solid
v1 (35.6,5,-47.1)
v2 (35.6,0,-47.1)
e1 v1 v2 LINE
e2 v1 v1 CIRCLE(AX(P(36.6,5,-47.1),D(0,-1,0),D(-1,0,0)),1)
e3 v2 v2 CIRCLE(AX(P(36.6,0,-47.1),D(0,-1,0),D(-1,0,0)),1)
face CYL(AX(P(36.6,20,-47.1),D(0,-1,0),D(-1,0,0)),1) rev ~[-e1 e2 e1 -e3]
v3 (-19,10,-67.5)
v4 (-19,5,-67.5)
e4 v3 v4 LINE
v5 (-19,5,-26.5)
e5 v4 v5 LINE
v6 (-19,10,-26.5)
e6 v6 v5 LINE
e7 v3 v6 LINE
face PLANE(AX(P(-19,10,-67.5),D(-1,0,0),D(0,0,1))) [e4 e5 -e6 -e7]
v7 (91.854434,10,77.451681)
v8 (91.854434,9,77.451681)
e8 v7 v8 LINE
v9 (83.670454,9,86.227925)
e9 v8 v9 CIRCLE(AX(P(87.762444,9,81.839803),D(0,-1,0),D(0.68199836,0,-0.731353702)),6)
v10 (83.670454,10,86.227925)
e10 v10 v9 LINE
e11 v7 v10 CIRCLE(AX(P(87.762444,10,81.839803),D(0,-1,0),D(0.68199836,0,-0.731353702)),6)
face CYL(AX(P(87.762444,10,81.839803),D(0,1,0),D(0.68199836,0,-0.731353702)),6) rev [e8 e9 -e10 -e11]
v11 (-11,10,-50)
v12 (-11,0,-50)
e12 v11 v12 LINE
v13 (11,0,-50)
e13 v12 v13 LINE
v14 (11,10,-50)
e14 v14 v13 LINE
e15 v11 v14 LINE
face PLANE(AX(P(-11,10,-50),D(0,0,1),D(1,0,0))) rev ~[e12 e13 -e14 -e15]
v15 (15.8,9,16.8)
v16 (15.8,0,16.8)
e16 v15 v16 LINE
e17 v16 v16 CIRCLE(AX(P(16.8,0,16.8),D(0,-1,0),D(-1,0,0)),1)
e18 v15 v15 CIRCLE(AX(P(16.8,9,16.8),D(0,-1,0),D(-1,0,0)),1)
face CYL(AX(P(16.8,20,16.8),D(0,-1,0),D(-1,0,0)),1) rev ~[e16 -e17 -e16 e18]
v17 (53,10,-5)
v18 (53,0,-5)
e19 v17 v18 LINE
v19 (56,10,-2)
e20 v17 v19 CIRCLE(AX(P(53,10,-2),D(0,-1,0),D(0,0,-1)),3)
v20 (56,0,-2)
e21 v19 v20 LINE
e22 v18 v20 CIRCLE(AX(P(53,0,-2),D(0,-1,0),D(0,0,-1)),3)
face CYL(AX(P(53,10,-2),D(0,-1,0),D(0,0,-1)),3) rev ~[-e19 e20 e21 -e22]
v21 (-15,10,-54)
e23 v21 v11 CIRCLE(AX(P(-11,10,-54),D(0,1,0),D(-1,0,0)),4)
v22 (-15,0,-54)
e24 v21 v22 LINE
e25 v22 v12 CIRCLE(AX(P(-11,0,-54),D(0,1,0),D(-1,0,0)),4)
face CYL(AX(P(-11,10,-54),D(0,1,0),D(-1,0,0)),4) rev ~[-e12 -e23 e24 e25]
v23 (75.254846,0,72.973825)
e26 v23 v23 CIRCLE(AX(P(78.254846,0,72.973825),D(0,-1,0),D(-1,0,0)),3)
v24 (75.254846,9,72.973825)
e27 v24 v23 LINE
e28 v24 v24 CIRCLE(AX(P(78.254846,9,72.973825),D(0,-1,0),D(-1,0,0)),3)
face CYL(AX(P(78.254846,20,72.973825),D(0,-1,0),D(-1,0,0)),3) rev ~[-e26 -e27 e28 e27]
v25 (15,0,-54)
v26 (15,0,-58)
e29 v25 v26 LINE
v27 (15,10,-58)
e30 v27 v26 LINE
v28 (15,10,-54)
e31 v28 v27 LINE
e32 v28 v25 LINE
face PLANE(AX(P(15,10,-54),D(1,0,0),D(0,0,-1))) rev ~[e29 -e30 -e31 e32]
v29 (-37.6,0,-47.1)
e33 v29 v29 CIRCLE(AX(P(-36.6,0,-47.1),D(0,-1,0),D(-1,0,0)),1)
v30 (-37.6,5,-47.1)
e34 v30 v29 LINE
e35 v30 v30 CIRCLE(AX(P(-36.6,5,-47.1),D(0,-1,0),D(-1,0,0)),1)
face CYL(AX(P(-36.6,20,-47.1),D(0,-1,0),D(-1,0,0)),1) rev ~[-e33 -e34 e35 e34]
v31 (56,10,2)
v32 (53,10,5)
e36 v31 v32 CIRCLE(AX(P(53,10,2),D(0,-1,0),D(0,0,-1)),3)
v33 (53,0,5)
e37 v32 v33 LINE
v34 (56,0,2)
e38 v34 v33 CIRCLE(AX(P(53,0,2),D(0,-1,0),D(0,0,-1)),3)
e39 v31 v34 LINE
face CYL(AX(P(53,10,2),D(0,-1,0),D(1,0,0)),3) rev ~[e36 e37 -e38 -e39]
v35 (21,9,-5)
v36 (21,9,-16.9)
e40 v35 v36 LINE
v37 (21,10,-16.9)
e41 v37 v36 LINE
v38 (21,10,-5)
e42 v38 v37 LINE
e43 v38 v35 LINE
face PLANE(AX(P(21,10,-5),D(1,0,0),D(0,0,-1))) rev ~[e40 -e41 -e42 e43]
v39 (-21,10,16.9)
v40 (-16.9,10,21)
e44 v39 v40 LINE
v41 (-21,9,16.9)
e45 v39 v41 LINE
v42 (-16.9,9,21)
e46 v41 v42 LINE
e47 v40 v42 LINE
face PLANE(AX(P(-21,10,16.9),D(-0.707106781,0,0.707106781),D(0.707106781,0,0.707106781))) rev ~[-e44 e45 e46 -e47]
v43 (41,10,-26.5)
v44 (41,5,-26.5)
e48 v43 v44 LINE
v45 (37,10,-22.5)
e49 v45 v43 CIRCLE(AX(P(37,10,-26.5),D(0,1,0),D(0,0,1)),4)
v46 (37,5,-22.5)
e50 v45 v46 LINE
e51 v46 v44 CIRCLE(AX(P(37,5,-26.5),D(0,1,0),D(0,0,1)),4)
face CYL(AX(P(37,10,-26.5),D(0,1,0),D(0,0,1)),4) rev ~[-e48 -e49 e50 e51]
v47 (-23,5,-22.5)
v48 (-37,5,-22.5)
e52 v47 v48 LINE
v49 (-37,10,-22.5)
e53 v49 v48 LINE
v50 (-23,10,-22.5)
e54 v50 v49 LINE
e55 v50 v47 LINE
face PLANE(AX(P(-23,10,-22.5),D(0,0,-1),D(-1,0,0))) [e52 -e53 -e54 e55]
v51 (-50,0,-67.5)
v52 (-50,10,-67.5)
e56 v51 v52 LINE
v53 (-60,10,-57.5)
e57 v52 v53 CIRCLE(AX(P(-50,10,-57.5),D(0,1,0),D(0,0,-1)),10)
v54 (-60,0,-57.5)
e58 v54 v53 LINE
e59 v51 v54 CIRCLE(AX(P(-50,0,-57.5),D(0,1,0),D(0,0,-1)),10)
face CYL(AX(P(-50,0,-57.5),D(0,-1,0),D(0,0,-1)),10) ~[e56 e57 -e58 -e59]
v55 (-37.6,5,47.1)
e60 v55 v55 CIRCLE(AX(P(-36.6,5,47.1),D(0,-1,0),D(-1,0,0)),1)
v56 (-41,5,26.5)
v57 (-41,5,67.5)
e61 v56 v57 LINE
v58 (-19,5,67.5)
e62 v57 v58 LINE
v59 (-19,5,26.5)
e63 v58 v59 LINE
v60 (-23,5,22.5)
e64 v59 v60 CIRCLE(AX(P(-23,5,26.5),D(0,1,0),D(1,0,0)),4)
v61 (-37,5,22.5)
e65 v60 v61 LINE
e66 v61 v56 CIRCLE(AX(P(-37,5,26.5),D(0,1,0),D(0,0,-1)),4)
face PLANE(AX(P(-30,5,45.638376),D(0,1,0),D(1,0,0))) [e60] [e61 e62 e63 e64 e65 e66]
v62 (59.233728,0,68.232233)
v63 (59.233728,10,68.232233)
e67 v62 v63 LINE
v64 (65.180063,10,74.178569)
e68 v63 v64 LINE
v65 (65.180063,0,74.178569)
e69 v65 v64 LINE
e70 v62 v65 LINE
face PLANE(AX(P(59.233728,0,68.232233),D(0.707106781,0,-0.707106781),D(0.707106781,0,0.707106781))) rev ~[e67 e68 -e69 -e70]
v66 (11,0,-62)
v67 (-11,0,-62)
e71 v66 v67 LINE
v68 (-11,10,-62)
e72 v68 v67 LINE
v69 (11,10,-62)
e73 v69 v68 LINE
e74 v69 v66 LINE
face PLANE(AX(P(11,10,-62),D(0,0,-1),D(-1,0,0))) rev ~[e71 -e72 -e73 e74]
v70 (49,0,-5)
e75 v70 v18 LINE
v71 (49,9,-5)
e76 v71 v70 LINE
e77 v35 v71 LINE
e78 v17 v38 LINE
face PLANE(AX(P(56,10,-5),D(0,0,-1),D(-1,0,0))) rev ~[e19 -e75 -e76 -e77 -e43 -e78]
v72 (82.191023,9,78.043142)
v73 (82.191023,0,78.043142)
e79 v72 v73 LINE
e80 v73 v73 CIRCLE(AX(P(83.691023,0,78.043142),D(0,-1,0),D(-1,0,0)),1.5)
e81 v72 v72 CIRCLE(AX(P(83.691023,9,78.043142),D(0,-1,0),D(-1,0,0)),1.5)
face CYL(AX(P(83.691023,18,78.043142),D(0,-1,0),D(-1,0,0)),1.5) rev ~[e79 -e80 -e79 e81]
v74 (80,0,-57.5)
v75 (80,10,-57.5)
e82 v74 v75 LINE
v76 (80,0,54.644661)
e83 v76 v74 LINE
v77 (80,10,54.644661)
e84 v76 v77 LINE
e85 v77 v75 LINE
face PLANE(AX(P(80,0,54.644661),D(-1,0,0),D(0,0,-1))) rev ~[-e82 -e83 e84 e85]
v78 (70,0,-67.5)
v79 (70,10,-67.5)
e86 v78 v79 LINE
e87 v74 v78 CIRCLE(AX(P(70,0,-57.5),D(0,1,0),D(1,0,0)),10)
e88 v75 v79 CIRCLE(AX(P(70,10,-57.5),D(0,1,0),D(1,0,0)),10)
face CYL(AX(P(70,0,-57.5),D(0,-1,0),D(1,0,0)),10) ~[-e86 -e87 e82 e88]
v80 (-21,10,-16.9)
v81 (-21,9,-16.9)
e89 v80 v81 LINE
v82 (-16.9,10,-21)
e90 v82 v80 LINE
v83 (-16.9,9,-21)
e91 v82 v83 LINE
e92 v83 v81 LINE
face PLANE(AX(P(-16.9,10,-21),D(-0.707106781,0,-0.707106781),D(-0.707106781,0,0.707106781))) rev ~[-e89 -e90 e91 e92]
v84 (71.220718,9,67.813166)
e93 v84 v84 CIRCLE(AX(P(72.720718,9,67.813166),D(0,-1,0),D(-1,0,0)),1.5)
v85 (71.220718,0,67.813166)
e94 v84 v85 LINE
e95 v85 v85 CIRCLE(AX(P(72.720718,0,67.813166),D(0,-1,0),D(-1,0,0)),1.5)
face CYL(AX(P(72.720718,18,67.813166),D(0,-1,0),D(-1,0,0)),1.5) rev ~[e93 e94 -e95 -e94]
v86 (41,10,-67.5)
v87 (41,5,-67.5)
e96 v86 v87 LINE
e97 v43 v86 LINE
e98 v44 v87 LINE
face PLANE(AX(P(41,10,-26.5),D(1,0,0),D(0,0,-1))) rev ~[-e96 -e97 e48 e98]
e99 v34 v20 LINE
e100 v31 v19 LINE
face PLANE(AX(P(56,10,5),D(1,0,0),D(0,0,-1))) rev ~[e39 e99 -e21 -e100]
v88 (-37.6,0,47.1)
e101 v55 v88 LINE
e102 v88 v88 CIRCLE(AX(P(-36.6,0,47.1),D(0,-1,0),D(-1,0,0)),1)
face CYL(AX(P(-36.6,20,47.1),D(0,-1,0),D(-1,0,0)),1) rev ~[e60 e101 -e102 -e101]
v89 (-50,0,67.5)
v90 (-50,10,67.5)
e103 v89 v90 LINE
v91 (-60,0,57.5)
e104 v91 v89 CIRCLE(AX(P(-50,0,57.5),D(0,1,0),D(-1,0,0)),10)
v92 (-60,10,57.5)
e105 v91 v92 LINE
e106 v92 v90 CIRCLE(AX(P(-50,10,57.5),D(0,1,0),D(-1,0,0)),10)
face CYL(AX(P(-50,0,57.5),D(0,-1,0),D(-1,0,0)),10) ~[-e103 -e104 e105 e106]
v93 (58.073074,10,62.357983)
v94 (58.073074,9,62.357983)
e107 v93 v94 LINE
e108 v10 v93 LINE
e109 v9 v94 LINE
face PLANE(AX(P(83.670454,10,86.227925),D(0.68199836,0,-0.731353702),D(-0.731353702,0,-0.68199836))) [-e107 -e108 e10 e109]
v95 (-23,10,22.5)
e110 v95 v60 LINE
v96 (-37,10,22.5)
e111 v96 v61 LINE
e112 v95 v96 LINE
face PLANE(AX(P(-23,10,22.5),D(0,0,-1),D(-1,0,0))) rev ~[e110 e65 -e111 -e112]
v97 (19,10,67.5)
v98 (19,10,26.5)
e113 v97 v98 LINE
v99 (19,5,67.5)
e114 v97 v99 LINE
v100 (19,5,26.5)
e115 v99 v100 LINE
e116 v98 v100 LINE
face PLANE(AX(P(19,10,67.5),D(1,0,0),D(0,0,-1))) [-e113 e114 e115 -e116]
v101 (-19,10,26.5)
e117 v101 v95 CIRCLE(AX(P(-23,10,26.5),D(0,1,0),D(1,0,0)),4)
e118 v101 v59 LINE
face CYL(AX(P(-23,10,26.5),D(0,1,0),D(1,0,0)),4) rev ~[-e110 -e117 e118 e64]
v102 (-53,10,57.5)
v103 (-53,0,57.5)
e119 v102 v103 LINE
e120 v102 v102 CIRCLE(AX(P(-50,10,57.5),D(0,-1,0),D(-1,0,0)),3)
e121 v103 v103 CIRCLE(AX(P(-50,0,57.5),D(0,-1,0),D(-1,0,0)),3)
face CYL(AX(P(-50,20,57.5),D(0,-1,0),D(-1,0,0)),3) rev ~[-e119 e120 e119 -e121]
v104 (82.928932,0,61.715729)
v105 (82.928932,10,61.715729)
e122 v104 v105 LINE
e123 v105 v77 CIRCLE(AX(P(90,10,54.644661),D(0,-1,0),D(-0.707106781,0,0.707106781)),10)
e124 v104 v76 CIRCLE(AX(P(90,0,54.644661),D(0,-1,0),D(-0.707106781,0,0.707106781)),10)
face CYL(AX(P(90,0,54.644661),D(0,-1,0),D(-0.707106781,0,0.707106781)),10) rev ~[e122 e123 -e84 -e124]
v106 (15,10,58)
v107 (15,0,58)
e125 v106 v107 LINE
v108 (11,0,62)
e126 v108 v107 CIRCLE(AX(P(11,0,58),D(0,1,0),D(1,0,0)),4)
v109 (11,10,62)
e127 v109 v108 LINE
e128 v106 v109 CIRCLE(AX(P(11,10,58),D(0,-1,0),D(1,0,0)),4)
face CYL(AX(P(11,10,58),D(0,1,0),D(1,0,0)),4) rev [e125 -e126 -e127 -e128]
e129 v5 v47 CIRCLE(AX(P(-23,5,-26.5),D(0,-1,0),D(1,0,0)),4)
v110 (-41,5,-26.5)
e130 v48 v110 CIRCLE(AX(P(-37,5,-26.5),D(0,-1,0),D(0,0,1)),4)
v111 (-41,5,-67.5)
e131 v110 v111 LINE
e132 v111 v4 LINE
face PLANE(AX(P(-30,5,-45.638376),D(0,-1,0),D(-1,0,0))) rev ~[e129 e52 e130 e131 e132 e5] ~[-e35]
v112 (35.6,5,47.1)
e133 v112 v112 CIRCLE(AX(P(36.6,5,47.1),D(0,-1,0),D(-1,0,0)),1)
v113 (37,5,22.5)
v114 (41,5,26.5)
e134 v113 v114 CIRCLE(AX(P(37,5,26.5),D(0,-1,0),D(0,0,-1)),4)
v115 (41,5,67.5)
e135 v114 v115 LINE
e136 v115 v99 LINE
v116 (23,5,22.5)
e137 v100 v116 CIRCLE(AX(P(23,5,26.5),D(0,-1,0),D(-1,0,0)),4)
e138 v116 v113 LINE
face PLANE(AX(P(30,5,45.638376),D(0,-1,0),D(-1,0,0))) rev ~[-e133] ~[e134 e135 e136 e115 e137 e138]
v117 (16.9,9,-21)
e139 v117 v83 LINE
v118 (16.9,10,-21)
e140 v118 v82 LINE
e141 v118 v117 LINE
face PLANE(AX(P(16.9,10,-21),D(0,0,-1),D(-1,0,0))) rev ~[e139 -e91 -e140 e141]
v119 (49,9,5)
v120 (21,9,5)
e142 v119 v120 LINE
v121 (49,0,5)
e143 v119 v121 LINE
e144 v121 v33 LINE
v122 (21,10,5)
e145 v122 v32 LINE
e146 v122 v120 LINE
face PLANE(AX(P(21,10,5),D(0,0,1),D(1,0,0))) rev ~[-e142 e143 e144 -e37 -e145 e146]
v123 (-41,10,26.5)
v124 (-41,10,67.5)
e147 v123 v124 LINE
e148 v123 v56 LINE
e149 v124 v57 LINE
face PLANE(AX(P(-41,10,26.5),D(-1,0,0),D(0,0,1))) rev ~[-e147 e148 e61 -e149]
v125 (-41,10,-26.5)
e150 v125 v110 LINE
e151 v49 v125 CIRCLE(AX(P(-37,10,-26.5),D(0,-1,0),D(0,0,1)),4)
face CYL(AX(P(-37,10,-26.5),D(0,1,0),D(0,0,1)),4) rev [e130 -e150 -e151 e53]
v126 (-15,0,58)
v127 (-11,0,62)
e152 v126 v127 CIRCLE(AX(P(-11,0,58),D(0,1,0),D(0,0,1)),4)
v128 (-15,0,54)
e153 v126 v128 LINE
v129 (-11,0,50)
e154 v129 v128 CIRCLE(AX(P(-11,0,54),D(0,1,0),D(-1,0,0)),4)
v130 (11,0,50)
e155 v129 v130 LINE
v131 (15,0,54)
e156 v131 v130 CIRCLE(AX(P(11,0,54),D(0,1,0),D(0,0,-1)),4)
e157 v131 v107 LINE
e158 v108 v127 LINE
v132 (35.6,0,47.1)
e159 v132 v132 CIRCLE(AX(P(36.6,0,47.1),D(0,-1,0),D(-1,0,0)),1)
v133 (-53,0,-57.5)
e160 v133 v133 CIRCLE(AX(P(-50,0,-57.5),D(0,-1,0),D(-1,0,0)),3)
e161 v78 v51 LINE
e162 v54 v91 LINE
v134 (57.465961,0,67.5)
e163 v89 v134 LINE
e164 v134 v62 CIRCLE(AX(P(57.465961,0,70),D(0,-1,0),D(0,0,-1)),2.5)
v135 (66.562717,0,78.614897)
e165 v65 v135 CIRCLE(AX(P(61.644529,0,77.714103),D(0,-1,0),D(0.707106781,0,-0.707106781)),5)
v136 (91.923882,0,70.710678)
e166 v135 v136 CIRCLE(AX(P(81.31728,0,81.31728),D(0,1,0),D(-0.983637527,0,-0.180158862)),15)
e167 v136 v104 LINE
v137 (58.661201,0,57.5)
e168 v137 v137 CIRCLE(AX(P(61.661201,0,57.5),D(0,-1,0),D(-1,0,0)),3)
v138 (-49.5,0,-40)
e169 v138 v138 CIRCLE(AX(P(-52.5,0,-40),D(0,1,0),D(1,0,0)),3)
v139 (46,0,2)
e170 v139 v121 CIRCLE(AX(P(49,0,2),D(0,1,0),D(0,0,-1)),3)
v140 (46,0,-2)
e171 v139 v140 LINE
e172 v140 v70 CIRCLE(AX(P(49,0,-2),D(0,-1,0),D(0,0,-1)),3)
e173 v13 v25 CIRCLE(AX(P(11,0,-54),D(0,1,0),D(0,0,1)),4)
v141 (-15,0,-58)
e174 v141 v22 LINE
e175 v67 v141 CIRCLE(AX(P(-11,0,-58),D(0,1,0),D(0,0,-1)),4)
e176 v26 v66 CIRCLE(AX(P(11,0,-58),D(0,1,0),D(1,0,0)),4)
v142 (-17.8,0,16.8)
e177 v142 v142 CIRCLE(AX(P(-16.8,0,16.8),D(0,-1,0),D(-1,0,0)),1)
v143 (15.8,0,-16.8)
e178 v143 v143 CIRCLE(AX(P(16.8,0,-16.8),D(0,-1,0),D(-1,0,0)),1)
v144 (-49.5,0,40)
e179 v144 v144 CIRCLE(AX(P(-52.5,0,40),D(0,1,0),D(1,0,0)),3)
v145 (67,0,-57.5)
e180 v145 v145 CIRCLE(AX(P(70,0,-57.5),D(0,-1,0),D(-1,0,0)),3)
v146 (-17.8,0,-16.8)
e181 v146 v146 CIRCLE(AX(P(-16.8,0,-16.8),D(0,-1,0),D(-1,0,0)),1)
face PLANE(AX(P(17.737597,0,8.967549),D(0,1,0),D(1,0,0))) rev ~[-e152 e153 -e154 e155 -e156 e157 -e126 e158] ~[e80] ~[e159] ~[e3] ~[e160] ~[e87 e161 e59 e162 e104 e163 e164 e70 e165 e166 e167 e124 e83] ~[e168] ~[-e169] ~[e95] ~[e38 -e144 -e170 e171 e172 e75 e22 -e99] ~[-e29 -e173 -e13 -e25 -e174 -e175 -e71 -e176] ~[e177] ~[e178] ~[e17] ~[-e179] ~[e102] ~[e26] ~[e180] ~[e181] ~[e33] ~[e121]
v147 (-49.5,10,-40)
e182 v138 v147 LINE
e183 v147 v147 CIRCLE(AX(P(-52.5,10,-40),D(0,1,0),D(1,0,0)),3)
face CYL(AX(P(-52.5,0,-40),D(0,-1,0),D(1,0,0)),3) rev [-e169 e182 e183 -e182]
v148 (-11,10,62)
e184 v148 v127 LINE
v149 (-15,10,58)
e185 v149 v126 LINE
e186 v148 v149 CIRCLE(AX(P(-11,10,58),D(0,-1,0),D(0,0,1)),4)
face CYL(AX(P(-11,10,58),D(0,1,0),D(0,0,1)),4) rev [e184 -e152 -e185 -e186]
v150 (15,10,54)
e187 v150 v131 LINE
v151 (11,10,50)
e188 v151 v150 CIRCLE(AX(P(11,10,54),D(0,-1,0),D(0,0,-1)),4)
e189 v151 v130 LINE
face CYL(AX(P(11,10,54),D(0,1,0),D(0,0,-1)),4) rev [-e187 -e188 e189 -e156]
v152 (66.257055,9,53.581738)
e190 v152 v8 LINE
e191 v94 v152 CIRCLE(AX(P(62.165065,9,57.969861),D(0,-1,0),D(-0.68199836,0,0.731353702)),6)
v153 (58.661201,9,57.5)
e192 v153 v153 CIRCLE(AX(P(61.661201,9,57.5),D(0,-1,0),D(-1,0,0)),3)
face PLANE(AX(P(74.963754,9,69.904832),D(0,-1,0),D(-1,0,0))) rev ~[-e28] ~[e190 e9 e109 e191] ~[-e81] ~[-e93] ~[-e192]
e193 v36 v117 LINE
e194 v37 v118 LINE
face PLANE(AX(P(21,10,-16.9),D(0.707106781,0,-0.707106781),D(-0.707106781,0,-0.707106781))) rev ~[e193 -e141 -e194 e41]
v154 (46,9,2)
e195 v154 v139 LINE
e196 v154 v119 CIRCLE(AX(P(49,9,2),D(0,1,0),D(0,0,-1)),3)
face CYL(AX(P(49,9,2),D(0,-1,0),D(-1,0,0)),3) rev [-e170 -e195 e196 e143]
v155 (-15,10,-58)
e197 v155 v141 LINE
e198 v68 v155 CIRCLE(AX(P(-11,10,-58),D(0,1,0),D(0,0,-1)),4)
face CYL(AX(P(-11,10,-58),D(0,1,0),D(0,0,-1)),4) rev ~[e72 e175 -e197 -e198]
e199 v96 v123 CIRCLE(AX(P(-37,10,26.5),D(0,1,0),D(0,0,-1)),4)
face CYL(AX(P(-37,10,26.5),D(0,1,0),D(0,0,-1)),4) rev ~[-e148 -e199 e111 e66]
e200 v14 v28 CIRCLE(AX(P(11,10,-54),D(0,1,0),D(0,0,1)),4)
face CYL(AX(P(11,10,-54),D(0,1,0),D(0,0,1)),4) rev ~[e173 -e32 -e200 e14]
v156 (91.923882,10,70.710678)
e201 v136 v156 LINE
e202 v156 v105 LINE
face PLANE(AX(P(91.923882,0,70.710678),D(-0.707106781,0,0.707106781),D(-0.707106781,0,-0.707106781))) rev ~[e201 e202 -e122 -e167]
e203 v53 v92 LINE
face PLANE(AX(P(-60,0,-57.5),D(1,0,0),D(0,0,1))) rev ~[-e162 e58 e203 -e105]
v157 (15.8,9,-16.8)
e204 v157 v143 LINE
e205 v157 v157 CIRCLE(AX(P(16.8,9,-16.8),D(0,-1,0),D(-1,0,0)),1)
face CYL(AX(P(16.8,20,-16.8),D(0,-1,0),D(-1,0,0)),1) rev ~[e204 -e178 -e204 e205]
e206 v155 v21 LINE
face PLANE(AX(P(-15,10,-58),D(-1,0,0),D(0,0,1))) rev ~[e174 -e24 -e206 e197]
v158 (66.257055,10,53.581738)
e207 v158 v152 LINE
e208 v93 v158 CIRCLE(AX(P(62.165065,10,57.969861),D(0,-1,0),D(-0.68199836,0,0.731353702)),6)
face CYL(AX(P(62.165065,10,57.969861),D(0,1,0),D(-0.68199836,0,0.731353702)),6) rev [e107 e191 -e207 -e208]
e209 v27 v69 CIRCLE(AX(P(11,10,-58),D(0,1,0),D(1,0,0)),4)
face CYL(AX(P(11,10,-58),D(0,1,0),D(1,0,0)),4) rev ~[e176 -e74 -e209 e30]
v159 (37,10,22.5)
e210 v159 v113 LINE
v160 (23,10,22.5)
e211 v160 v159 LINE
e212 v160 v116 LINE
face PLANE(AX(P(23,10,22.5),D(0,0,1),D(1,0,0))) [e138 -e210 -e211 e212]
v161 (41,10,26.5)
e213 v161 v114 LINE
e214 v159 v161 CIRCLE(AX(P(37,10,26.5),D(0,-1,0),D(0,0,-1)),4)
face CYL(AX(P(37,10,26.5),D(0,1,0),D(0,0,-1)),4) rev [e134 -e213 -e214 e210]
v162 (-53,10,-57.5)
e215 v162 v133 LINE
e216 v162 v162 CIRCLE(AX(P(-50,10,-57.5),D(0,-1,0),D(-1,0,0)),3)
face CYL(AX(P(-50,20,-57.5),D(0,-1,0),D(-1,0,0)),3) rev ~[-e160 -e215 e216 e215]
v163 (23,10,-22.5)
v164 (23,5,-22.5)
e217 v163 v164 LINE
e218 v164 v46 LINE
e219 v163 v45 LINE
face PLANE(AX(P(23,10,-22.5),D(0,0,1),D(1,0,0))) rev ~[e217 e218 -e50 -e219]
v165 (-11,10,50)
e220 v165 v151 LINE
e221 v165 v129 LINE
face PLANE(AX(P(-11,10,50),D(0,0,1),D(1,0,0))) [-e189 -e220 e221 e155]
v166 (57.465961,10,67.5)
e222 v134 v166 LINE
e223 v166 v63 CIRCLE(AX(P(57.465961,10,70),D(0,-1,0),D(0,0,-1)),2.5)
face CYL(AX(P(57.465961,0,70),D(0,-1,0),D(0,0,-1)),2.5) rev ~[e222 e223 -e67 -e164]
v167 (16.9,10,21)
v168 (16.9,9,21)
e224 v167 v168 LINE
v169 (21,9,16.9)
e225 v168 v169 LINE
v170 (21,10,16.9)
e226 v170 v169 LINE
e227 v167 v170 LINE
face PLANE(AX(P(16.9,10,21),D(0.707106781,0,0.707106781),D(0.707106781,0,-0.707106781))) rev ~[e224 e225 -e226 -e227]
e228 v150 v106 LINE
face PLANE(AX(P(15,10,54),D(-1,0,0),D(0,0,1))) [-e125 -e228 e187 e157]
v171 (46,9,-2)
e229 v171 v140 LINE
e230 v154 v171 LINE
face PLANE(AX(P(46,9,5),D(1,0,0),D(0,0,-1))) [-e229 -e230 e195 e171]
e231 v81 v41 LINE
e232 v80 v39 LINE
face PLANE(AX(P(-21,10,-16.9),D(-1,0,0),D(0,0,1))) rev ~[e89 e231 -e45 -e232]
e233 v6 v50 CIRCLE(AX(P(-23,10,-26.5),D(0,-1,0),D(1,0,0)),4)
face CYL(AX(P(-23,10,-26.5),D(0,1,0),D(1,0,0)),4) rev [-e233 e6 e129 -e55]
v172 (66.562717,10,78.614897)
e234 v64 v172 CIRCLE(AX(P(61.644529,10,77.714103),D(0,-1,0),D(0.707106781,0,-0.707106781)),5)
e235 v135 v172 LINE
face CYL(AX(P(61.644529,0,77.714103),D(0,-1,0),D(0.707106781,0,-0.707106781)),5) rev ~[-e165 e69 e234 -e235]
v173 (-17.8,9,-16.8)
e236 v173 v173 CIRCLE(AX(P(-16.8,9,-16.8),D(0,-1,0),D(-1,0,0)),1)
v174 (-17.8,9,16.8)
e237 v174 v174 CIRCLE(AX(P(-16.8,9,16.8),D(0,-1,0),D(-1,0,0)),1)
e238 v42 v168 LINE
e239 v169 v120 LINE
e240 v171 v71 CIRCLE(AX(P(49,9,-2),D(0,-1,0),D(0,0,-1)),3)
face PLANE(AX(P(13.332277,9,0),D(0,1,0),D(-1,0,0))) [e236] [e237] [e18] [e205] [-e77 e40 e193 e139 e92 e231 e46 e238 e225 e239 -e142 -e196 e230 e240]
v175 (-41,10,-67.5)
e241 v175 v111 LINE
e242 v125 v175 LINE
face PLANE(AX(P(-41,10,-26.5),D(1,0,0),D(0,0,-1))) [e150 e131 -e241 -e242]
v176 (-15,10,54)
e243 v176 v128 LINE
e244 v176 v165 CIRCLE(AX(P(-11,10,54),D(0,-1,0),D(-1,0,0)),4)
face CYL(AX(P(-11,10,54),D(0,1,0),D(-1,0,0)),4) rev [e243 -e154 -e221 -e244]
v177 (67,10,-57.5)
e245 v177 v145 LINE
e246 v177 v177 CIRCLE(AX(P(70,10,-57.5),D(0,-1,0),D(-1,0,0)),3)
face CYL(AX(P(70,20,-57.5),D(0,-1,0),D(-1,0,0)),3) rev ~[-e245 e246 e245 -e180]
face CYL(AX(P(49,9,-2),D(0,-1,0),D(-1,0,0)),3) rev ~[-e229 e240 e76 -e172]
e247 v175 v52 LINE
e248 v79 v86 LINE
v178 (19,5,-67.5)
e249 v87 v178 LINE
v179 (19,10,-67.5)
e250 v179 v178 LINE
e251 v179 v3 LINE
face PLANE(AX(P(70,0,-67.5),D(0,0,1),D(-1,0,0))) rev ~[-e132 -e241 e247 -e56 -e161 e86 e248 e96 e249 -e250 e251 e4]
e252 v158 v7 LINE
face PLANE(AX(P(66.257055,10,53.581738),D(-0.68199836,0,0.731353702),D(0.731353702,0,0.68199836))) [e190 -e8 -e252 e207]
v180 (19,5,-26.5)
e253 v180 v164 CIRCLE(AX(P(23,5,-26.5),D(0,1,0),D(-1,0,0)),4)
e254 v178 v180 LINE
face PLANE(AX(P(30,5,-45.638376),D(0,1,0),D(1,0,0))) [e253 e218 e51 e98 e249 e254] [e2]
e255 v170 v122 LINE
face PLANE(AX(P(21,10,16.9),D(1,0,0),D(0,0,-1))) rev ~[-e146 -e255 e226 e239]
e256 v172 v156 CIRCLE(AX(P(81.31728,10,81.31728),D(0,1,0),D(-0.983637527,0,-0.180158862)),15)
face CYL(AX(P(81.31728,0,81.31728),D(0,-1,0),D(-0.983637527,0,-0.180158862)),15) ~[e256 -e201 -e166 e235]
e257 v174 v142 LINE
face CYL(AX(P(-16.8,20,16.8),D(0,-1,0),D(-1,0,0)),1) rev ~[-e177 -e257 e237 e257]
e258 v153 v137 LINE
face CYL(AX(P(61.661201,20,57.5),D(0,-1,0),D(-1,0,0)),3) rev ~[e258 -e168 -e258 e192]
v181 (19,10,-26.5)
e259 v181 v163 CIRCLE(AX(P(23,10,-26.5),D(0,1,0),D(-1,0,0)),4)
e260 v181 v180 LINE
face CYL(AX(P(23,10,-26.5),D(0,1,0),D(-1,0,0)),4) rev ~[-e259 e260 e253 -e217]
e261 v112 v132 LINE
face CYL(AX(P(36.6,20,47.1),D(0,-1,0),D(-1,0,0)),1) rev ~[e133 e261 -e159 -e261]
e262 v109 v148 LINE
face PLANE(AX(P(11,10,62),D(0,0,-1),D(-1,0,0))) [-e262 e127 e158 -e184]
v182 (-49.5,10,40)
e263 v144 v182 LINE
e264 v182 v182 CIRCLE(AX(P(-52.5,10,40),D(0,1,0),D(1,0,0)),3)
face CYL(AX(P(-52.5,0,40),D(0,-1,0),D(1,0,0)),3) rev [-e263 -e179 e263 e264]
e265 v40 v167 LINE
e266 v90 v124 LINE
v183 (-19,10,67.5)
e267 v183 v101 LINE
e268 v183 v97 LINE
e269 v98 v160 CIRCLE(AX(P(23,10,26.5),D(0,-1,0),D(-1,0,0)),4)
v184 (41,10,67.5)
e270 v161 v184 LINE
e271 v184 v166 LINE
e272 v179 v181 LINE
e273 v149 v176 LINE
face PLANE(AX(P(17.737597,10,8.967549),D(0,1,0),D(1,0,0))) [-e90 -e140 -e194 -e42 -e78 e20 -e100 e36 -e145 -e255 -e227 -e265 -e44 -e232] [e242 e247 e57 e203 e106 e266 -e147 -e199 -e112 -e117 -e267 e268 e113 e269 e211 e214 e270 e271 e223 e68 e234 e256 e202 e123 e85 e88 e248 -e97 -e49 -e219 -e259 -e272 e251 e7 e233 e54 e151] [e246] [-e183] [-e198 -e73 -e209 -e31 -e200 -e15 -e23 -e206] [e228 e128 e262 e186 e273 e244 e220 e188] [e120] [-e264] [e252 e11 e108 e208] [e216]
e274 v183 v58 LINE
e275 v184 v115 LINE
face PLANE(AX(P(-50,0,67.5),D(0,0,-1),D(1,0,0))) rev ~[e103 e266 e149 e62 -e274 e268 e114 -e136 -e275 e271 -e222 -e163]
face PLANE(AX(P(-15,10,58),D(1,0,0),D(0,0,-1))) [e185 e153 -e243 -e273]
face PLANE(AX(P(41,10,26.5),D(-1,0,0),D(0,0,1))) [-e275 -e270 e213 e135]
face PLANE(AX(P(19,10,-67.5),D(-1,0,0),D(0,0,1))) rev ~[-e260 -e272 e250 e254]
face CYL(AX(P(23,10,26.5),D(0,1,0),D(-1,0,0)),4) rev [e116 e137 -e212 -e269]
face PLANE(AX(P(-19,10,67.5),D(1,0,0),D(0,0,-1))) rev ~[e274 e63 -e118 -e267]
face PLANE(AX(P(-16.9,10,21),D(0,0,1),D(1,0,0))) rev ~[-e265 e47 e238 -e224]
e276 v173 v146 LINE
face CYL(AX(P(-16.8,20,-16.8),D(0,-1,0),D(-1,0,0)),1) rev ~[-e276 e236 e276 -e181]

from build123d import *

# Parameters (mm, degrees)
ESQUISSE2_R         = 3
BOSS_EXTRU_1_DEPTH  = 10
BOARD_HOLES_D       = 2
BOARD_HOLES_DEPTH   = 10
STEPPER_HOLES_D     = 2
STEPPER_HOLES_DEPTH = 10
FEET_HOLES_D        = 6
FEET_HOLES_DEPTH    = 10
CHANFREIN1_SIZE     = 1
STEPPER_DEPTH       = 1
PUMPS_DEPTH         = 5
WIRES_2_DEPTH       = 11
WEIGHT_DEPTH        = 1
WEIGHT_HOLES_D      = 3
WEIGHT_HOLES_DEPTH  = 9
ESQUISSE17_W        = 10
ESQUISSE17_H        = 10
WIRES_STEPPER_DEPTH = 10
CONG_1_R            = 3


with BuildPart() as part:
    # Esquisse2 → Boss.-Extru.1 (new body)
    with BuildSketch(Plane(origin=(0, 0, 0), x_dir=(1, 0, 0), z_dir=(0, 1, 0))):
        with BuildLine():
            Line((59.233727564, -68.232233047), (65.180063204, -74.178568687))
            ThreePointArc((65.180063204, -74.178568687), (66.418060903, -76.226353952), (66.562716933, -78.614896904))
            ThreePointArc((66.562716933, -78.614896904), (85.780525757, -95.637874651), (91.923881554, -70.710678119))
            Line((91.923881554, -70.710678119), (82.928932188, -61.715728753))
            ThreePointArc((82.928932188, -61.715728753), (80.761204675, -58.471495264), (80, -54.644660941))
            Line((80, -54.644660941), (80, 57.5))
            ThreePointArc((80, 57.5), (77.071067812, 64.571067812), (70, 67.5))
            Line((70, 67.5), (-50, 67.5))
            ThreePointArc((-50, 67.5), (-57.071067812, 64.571067812), (-60, 57.5))
            Line((-60, 57.5), (-60, -57.5))
            ThreePointArc((-60, -57.5), (-57.071067812, -64.571067812), (-50, -67.5))
            Line((-50, -67.5), (57.465960611, -67.5))
            ThreePointArc((57.465960611, -67.5), (58.422669192, -67.690301169), (59.233727564, -68.232233047))
        make_face()
        with Locations((-52.5, 40)):
            Circle(ESQUISSE2_R, mode=Mode.SUBTRACT)
        with Locations((-52.5, -40)):
            Circle(ESQUISSE2_R, mode=Mode.SUBTRACT)
    extrude(amount=BOSS_EXTRU_1_DEPTH)

    # board holes
    with Locations(Plane(origin=(0, 10, 0), x_dir=(1, 0, 0), z_dir=(0, 1, 0))):
        with Locations((-36.6, 47.1), (36.6, 47.1), (36.6, -47.1), (-36.6, -47.1)):
            Hole(BOARD_HOLES_D / 2, depth=BOARD_HOLES_DEPTH)

    # stepper holes
    with Locations(Plane(origin=(0, 10, 0), x_dir=(1, 0, 0), z_dir=(0, 1, 0))):
        with Locations((-16.8, 16.8), (16.8, 16.8), (16.8, -16.8), (-16.8, -16.8)):
            Hole(STEPPER_HOLES_D / 2, depth=STEPPER_HOLES_DEPTH)

    # feet holes
    with Locations(Plane(origin=(0, 10, 0), x_dir=(1, 0, 0), z_dir=(0, 1, 0))):
        with Locations((70, 57.5), (-50, 57.5), (-50, -57.5), (78.254846073, -72.973824527), (61.661200826, -57.5)):
            Hole(FEET_HOLES_D / 2, depth=FEET_HOLES_DEPTH)

    # Chanfrein1
    chanfrein1_edges = [part.edges().sort_by_distance(p)[0] for p in [
        (-35.6, 10, 47.1),
        (37.6, 10, 47.1),
        (37.6, 10, -47.1),
        (-35.6, 10, -47.1),
    ]]
    chamfer(chanfrein1_edges, length=CHANFREIN1_SIZE)

    # Esquisse10 → stepper (cut)
    with BuildSketch(Plane(origin=(0, 10, -10), x_dir=(1, 0, 0), z_dir=(0, -1, 0))):
        Polygon((-16.9, 31), (16.9, 31), (21, 26.9), (21, 15), (56, 15), (56, 5), (21, 5), (21, -6.9), (16.9, -11), (-16.9, -11), (-21, -6.9), (-21, 26.9), align=None)
    extrude(amount=STEPPER_DEPTH, mode=Mode.SUBTRACT)

    # Esquisse11 → pumps (cut)
    with BuildSketch(Plane(origin=(0, 10, 0), x_dir=(1, 0, 0), z_dir=(0, 1, 0))):
        with BuildLine():
            Line((-41, -67.5), (-19, -67.5))
            Line((-19, -67.5), (-19, -26.5))
            ThreePointArc((-19, -26.5), (-20.171572875, -23.671572875), (-23, -22.5))
            Line((-23, -22.5), (-37, -22.5))
            ThreePointArc((-37, -22.5), (-39.828427125, -23.671572875), (-41, -26.5))
            Line((-41, -26.5), (-41, -67.5))
        make_face()
        with BuildLine():
            Line((19, -67.5), (19, -26.5))
            ThreePointArc((19, -26.5), (20.171572875, -23.671572875), (23, -22.5))
            Line((23, -22.5), (37, -22.5))
            ThreePointArc((37, -22.5), (39.828427125, -23.671572875), (41, -26.5))
            Line((41, -26.5), (41, -67.5))
            Line((41, -67.5), (19, -67.5))
        make_face()
        with BuildLine():
            Line((41, 67.5), (19, 67.5))
            Line((19, 67.5), (19, 26.5))
            ThreePointArc((19, 26.5), (20.171572875, 23.671572875), (23, 22.5))
            Line((23, 22.5), (37, 22.5))
            ThreePointArc((37, 22.5), (39.828427125, 23.671572875), (41, 26.5))
            Line((41, 26.5), (41, 67.5))
        make_face()
        with BuildLine():
            Line((-19, 67.5), (-19, 26.5))
            ThreePointArc((-19, 26.5), (-20.171572875, 23.671572875), (-23, 22.5))
            Line((-23, 22.5), (-37, 22.5))
            ThreePointArc((-37, 22.5), (-39.828427125, 23.671572875), (-41, 26.5))
            Line((-41, 26.5), (-41, 67.5))
            Line((-41, 67.5), (-19, 67.5))
        make_face()
    extrude(amount=-PUMPS_DEPTH, mode=Mode.SUBTRACT)

    # Esquisse13 → wires 2 (cut, through all)
    with BuildSketch(Plane(origin=(0, 10, 0), x_dir=(1, 0, 0), z_dir=(0, 1, 0))):
        with BuildLine():
            Line((11, 62), (-11, 62))
            ThreePointArc((-11, 62), (-13.828427125, 60.828427125), (-15, 58))
            Line((-15, 58), (-15, 54))
            ThreePointArc((-15, 54), (-13.828427125, 51.171572875), (-11, 50))
            Line((-11, 50), (11, 50))
            ThreePointArc((11, 50), (13.828427125, 51.171572875), (15, 54))
            Line((15, 54), (15, 58))
            ThreePointArc((15, 58), (13.828427125, 60.828427125), (11, 62))
        make_face()
        with BuildLine():
            Line((-15, -58), (-15, -54))
            ThreePointArc((-15, -54), (-13.828427125, -51.171572875), (-11, -50))
            Line((-11, -50), (11, -50))
            ThreePointArc((11, -50), (13.828427125, -51.171572875), (15, -54))
            Line((15, -54), (15, -58))
            ThreePointArc((15, -58), (13.828427125, -60.828427125), (11, -62))
            Line((11, -62), (-11, -62))
            ThreePointArc((-11, -62), (-13.828427125, -60.828427125), (-15, -58))
        make_face()
    extrude(amount=-WIRES_2_DEPTH, mode=Mode.SUBTRACT)

    # Esquisse14 → weight (cut)
    with BuildSketch(Plane(origin=(0, 10, 0), x_dir=(1, 0, 0), z_dir=(0, 1, 0))):
        with BuildLine():
            Line((66.257054798, -53.581738396), (91.854434355, -77.451680998))
            ThreePointArc((91.854434355, -77.451680998), (92.150566404, -85.931793368), (83.670454034, -86.227925417))
            Line((83.670454034, -86.227925417), (58.073074477, -62.357982815))
            ThreePointArc((58.073074477, -62.357982815), (57.776942428, -53.877870445), (66.257054798, -53.581738396))
        make_face()
    extrude(amount=-WEIGHT_DEPTH, mode=Mode.SUBTRACT)

    # Weight holes
    with Locations(Plane(origin=(0, 9, 0), x_dir=(1, 0, 0), z_dir=(0, 1, 0))):
        with Locations((83.691023277, -78.04314178), (72.720717752, -67.813166379), (77.572847713, -73.705178228)):
            Hole(WEIGHT_HOLES_D / 2, depth=WEIGHT_HOLES_DEPTH)

    # Esquisse17 → wires stepper (cut, through all)
    with BuildSketch(Plane(origin=(0, 9, 0), x_dir=(1, 0, 0), z_dir=(0, 1, 0))):
        with Locations((51, 0)):
            Rectangle(ESQUISSE17_W, ESQUISSE17_H)
    extrude(amount=-WIRES_STEPPER_DEPTH, mode=Mode.SUBTRACT)

    # Congé1
    cong_1_edges = [part.edges().sort_by_distance(p)[0] for p in [
        (56, 5, -5),
        (56, 5, 5),
        (46, 4.5, 5),
        (46, 4.5, -5),
    ]]
    fillet(cong_1_edges, radius=CONG_1_R)


solid = part.part
